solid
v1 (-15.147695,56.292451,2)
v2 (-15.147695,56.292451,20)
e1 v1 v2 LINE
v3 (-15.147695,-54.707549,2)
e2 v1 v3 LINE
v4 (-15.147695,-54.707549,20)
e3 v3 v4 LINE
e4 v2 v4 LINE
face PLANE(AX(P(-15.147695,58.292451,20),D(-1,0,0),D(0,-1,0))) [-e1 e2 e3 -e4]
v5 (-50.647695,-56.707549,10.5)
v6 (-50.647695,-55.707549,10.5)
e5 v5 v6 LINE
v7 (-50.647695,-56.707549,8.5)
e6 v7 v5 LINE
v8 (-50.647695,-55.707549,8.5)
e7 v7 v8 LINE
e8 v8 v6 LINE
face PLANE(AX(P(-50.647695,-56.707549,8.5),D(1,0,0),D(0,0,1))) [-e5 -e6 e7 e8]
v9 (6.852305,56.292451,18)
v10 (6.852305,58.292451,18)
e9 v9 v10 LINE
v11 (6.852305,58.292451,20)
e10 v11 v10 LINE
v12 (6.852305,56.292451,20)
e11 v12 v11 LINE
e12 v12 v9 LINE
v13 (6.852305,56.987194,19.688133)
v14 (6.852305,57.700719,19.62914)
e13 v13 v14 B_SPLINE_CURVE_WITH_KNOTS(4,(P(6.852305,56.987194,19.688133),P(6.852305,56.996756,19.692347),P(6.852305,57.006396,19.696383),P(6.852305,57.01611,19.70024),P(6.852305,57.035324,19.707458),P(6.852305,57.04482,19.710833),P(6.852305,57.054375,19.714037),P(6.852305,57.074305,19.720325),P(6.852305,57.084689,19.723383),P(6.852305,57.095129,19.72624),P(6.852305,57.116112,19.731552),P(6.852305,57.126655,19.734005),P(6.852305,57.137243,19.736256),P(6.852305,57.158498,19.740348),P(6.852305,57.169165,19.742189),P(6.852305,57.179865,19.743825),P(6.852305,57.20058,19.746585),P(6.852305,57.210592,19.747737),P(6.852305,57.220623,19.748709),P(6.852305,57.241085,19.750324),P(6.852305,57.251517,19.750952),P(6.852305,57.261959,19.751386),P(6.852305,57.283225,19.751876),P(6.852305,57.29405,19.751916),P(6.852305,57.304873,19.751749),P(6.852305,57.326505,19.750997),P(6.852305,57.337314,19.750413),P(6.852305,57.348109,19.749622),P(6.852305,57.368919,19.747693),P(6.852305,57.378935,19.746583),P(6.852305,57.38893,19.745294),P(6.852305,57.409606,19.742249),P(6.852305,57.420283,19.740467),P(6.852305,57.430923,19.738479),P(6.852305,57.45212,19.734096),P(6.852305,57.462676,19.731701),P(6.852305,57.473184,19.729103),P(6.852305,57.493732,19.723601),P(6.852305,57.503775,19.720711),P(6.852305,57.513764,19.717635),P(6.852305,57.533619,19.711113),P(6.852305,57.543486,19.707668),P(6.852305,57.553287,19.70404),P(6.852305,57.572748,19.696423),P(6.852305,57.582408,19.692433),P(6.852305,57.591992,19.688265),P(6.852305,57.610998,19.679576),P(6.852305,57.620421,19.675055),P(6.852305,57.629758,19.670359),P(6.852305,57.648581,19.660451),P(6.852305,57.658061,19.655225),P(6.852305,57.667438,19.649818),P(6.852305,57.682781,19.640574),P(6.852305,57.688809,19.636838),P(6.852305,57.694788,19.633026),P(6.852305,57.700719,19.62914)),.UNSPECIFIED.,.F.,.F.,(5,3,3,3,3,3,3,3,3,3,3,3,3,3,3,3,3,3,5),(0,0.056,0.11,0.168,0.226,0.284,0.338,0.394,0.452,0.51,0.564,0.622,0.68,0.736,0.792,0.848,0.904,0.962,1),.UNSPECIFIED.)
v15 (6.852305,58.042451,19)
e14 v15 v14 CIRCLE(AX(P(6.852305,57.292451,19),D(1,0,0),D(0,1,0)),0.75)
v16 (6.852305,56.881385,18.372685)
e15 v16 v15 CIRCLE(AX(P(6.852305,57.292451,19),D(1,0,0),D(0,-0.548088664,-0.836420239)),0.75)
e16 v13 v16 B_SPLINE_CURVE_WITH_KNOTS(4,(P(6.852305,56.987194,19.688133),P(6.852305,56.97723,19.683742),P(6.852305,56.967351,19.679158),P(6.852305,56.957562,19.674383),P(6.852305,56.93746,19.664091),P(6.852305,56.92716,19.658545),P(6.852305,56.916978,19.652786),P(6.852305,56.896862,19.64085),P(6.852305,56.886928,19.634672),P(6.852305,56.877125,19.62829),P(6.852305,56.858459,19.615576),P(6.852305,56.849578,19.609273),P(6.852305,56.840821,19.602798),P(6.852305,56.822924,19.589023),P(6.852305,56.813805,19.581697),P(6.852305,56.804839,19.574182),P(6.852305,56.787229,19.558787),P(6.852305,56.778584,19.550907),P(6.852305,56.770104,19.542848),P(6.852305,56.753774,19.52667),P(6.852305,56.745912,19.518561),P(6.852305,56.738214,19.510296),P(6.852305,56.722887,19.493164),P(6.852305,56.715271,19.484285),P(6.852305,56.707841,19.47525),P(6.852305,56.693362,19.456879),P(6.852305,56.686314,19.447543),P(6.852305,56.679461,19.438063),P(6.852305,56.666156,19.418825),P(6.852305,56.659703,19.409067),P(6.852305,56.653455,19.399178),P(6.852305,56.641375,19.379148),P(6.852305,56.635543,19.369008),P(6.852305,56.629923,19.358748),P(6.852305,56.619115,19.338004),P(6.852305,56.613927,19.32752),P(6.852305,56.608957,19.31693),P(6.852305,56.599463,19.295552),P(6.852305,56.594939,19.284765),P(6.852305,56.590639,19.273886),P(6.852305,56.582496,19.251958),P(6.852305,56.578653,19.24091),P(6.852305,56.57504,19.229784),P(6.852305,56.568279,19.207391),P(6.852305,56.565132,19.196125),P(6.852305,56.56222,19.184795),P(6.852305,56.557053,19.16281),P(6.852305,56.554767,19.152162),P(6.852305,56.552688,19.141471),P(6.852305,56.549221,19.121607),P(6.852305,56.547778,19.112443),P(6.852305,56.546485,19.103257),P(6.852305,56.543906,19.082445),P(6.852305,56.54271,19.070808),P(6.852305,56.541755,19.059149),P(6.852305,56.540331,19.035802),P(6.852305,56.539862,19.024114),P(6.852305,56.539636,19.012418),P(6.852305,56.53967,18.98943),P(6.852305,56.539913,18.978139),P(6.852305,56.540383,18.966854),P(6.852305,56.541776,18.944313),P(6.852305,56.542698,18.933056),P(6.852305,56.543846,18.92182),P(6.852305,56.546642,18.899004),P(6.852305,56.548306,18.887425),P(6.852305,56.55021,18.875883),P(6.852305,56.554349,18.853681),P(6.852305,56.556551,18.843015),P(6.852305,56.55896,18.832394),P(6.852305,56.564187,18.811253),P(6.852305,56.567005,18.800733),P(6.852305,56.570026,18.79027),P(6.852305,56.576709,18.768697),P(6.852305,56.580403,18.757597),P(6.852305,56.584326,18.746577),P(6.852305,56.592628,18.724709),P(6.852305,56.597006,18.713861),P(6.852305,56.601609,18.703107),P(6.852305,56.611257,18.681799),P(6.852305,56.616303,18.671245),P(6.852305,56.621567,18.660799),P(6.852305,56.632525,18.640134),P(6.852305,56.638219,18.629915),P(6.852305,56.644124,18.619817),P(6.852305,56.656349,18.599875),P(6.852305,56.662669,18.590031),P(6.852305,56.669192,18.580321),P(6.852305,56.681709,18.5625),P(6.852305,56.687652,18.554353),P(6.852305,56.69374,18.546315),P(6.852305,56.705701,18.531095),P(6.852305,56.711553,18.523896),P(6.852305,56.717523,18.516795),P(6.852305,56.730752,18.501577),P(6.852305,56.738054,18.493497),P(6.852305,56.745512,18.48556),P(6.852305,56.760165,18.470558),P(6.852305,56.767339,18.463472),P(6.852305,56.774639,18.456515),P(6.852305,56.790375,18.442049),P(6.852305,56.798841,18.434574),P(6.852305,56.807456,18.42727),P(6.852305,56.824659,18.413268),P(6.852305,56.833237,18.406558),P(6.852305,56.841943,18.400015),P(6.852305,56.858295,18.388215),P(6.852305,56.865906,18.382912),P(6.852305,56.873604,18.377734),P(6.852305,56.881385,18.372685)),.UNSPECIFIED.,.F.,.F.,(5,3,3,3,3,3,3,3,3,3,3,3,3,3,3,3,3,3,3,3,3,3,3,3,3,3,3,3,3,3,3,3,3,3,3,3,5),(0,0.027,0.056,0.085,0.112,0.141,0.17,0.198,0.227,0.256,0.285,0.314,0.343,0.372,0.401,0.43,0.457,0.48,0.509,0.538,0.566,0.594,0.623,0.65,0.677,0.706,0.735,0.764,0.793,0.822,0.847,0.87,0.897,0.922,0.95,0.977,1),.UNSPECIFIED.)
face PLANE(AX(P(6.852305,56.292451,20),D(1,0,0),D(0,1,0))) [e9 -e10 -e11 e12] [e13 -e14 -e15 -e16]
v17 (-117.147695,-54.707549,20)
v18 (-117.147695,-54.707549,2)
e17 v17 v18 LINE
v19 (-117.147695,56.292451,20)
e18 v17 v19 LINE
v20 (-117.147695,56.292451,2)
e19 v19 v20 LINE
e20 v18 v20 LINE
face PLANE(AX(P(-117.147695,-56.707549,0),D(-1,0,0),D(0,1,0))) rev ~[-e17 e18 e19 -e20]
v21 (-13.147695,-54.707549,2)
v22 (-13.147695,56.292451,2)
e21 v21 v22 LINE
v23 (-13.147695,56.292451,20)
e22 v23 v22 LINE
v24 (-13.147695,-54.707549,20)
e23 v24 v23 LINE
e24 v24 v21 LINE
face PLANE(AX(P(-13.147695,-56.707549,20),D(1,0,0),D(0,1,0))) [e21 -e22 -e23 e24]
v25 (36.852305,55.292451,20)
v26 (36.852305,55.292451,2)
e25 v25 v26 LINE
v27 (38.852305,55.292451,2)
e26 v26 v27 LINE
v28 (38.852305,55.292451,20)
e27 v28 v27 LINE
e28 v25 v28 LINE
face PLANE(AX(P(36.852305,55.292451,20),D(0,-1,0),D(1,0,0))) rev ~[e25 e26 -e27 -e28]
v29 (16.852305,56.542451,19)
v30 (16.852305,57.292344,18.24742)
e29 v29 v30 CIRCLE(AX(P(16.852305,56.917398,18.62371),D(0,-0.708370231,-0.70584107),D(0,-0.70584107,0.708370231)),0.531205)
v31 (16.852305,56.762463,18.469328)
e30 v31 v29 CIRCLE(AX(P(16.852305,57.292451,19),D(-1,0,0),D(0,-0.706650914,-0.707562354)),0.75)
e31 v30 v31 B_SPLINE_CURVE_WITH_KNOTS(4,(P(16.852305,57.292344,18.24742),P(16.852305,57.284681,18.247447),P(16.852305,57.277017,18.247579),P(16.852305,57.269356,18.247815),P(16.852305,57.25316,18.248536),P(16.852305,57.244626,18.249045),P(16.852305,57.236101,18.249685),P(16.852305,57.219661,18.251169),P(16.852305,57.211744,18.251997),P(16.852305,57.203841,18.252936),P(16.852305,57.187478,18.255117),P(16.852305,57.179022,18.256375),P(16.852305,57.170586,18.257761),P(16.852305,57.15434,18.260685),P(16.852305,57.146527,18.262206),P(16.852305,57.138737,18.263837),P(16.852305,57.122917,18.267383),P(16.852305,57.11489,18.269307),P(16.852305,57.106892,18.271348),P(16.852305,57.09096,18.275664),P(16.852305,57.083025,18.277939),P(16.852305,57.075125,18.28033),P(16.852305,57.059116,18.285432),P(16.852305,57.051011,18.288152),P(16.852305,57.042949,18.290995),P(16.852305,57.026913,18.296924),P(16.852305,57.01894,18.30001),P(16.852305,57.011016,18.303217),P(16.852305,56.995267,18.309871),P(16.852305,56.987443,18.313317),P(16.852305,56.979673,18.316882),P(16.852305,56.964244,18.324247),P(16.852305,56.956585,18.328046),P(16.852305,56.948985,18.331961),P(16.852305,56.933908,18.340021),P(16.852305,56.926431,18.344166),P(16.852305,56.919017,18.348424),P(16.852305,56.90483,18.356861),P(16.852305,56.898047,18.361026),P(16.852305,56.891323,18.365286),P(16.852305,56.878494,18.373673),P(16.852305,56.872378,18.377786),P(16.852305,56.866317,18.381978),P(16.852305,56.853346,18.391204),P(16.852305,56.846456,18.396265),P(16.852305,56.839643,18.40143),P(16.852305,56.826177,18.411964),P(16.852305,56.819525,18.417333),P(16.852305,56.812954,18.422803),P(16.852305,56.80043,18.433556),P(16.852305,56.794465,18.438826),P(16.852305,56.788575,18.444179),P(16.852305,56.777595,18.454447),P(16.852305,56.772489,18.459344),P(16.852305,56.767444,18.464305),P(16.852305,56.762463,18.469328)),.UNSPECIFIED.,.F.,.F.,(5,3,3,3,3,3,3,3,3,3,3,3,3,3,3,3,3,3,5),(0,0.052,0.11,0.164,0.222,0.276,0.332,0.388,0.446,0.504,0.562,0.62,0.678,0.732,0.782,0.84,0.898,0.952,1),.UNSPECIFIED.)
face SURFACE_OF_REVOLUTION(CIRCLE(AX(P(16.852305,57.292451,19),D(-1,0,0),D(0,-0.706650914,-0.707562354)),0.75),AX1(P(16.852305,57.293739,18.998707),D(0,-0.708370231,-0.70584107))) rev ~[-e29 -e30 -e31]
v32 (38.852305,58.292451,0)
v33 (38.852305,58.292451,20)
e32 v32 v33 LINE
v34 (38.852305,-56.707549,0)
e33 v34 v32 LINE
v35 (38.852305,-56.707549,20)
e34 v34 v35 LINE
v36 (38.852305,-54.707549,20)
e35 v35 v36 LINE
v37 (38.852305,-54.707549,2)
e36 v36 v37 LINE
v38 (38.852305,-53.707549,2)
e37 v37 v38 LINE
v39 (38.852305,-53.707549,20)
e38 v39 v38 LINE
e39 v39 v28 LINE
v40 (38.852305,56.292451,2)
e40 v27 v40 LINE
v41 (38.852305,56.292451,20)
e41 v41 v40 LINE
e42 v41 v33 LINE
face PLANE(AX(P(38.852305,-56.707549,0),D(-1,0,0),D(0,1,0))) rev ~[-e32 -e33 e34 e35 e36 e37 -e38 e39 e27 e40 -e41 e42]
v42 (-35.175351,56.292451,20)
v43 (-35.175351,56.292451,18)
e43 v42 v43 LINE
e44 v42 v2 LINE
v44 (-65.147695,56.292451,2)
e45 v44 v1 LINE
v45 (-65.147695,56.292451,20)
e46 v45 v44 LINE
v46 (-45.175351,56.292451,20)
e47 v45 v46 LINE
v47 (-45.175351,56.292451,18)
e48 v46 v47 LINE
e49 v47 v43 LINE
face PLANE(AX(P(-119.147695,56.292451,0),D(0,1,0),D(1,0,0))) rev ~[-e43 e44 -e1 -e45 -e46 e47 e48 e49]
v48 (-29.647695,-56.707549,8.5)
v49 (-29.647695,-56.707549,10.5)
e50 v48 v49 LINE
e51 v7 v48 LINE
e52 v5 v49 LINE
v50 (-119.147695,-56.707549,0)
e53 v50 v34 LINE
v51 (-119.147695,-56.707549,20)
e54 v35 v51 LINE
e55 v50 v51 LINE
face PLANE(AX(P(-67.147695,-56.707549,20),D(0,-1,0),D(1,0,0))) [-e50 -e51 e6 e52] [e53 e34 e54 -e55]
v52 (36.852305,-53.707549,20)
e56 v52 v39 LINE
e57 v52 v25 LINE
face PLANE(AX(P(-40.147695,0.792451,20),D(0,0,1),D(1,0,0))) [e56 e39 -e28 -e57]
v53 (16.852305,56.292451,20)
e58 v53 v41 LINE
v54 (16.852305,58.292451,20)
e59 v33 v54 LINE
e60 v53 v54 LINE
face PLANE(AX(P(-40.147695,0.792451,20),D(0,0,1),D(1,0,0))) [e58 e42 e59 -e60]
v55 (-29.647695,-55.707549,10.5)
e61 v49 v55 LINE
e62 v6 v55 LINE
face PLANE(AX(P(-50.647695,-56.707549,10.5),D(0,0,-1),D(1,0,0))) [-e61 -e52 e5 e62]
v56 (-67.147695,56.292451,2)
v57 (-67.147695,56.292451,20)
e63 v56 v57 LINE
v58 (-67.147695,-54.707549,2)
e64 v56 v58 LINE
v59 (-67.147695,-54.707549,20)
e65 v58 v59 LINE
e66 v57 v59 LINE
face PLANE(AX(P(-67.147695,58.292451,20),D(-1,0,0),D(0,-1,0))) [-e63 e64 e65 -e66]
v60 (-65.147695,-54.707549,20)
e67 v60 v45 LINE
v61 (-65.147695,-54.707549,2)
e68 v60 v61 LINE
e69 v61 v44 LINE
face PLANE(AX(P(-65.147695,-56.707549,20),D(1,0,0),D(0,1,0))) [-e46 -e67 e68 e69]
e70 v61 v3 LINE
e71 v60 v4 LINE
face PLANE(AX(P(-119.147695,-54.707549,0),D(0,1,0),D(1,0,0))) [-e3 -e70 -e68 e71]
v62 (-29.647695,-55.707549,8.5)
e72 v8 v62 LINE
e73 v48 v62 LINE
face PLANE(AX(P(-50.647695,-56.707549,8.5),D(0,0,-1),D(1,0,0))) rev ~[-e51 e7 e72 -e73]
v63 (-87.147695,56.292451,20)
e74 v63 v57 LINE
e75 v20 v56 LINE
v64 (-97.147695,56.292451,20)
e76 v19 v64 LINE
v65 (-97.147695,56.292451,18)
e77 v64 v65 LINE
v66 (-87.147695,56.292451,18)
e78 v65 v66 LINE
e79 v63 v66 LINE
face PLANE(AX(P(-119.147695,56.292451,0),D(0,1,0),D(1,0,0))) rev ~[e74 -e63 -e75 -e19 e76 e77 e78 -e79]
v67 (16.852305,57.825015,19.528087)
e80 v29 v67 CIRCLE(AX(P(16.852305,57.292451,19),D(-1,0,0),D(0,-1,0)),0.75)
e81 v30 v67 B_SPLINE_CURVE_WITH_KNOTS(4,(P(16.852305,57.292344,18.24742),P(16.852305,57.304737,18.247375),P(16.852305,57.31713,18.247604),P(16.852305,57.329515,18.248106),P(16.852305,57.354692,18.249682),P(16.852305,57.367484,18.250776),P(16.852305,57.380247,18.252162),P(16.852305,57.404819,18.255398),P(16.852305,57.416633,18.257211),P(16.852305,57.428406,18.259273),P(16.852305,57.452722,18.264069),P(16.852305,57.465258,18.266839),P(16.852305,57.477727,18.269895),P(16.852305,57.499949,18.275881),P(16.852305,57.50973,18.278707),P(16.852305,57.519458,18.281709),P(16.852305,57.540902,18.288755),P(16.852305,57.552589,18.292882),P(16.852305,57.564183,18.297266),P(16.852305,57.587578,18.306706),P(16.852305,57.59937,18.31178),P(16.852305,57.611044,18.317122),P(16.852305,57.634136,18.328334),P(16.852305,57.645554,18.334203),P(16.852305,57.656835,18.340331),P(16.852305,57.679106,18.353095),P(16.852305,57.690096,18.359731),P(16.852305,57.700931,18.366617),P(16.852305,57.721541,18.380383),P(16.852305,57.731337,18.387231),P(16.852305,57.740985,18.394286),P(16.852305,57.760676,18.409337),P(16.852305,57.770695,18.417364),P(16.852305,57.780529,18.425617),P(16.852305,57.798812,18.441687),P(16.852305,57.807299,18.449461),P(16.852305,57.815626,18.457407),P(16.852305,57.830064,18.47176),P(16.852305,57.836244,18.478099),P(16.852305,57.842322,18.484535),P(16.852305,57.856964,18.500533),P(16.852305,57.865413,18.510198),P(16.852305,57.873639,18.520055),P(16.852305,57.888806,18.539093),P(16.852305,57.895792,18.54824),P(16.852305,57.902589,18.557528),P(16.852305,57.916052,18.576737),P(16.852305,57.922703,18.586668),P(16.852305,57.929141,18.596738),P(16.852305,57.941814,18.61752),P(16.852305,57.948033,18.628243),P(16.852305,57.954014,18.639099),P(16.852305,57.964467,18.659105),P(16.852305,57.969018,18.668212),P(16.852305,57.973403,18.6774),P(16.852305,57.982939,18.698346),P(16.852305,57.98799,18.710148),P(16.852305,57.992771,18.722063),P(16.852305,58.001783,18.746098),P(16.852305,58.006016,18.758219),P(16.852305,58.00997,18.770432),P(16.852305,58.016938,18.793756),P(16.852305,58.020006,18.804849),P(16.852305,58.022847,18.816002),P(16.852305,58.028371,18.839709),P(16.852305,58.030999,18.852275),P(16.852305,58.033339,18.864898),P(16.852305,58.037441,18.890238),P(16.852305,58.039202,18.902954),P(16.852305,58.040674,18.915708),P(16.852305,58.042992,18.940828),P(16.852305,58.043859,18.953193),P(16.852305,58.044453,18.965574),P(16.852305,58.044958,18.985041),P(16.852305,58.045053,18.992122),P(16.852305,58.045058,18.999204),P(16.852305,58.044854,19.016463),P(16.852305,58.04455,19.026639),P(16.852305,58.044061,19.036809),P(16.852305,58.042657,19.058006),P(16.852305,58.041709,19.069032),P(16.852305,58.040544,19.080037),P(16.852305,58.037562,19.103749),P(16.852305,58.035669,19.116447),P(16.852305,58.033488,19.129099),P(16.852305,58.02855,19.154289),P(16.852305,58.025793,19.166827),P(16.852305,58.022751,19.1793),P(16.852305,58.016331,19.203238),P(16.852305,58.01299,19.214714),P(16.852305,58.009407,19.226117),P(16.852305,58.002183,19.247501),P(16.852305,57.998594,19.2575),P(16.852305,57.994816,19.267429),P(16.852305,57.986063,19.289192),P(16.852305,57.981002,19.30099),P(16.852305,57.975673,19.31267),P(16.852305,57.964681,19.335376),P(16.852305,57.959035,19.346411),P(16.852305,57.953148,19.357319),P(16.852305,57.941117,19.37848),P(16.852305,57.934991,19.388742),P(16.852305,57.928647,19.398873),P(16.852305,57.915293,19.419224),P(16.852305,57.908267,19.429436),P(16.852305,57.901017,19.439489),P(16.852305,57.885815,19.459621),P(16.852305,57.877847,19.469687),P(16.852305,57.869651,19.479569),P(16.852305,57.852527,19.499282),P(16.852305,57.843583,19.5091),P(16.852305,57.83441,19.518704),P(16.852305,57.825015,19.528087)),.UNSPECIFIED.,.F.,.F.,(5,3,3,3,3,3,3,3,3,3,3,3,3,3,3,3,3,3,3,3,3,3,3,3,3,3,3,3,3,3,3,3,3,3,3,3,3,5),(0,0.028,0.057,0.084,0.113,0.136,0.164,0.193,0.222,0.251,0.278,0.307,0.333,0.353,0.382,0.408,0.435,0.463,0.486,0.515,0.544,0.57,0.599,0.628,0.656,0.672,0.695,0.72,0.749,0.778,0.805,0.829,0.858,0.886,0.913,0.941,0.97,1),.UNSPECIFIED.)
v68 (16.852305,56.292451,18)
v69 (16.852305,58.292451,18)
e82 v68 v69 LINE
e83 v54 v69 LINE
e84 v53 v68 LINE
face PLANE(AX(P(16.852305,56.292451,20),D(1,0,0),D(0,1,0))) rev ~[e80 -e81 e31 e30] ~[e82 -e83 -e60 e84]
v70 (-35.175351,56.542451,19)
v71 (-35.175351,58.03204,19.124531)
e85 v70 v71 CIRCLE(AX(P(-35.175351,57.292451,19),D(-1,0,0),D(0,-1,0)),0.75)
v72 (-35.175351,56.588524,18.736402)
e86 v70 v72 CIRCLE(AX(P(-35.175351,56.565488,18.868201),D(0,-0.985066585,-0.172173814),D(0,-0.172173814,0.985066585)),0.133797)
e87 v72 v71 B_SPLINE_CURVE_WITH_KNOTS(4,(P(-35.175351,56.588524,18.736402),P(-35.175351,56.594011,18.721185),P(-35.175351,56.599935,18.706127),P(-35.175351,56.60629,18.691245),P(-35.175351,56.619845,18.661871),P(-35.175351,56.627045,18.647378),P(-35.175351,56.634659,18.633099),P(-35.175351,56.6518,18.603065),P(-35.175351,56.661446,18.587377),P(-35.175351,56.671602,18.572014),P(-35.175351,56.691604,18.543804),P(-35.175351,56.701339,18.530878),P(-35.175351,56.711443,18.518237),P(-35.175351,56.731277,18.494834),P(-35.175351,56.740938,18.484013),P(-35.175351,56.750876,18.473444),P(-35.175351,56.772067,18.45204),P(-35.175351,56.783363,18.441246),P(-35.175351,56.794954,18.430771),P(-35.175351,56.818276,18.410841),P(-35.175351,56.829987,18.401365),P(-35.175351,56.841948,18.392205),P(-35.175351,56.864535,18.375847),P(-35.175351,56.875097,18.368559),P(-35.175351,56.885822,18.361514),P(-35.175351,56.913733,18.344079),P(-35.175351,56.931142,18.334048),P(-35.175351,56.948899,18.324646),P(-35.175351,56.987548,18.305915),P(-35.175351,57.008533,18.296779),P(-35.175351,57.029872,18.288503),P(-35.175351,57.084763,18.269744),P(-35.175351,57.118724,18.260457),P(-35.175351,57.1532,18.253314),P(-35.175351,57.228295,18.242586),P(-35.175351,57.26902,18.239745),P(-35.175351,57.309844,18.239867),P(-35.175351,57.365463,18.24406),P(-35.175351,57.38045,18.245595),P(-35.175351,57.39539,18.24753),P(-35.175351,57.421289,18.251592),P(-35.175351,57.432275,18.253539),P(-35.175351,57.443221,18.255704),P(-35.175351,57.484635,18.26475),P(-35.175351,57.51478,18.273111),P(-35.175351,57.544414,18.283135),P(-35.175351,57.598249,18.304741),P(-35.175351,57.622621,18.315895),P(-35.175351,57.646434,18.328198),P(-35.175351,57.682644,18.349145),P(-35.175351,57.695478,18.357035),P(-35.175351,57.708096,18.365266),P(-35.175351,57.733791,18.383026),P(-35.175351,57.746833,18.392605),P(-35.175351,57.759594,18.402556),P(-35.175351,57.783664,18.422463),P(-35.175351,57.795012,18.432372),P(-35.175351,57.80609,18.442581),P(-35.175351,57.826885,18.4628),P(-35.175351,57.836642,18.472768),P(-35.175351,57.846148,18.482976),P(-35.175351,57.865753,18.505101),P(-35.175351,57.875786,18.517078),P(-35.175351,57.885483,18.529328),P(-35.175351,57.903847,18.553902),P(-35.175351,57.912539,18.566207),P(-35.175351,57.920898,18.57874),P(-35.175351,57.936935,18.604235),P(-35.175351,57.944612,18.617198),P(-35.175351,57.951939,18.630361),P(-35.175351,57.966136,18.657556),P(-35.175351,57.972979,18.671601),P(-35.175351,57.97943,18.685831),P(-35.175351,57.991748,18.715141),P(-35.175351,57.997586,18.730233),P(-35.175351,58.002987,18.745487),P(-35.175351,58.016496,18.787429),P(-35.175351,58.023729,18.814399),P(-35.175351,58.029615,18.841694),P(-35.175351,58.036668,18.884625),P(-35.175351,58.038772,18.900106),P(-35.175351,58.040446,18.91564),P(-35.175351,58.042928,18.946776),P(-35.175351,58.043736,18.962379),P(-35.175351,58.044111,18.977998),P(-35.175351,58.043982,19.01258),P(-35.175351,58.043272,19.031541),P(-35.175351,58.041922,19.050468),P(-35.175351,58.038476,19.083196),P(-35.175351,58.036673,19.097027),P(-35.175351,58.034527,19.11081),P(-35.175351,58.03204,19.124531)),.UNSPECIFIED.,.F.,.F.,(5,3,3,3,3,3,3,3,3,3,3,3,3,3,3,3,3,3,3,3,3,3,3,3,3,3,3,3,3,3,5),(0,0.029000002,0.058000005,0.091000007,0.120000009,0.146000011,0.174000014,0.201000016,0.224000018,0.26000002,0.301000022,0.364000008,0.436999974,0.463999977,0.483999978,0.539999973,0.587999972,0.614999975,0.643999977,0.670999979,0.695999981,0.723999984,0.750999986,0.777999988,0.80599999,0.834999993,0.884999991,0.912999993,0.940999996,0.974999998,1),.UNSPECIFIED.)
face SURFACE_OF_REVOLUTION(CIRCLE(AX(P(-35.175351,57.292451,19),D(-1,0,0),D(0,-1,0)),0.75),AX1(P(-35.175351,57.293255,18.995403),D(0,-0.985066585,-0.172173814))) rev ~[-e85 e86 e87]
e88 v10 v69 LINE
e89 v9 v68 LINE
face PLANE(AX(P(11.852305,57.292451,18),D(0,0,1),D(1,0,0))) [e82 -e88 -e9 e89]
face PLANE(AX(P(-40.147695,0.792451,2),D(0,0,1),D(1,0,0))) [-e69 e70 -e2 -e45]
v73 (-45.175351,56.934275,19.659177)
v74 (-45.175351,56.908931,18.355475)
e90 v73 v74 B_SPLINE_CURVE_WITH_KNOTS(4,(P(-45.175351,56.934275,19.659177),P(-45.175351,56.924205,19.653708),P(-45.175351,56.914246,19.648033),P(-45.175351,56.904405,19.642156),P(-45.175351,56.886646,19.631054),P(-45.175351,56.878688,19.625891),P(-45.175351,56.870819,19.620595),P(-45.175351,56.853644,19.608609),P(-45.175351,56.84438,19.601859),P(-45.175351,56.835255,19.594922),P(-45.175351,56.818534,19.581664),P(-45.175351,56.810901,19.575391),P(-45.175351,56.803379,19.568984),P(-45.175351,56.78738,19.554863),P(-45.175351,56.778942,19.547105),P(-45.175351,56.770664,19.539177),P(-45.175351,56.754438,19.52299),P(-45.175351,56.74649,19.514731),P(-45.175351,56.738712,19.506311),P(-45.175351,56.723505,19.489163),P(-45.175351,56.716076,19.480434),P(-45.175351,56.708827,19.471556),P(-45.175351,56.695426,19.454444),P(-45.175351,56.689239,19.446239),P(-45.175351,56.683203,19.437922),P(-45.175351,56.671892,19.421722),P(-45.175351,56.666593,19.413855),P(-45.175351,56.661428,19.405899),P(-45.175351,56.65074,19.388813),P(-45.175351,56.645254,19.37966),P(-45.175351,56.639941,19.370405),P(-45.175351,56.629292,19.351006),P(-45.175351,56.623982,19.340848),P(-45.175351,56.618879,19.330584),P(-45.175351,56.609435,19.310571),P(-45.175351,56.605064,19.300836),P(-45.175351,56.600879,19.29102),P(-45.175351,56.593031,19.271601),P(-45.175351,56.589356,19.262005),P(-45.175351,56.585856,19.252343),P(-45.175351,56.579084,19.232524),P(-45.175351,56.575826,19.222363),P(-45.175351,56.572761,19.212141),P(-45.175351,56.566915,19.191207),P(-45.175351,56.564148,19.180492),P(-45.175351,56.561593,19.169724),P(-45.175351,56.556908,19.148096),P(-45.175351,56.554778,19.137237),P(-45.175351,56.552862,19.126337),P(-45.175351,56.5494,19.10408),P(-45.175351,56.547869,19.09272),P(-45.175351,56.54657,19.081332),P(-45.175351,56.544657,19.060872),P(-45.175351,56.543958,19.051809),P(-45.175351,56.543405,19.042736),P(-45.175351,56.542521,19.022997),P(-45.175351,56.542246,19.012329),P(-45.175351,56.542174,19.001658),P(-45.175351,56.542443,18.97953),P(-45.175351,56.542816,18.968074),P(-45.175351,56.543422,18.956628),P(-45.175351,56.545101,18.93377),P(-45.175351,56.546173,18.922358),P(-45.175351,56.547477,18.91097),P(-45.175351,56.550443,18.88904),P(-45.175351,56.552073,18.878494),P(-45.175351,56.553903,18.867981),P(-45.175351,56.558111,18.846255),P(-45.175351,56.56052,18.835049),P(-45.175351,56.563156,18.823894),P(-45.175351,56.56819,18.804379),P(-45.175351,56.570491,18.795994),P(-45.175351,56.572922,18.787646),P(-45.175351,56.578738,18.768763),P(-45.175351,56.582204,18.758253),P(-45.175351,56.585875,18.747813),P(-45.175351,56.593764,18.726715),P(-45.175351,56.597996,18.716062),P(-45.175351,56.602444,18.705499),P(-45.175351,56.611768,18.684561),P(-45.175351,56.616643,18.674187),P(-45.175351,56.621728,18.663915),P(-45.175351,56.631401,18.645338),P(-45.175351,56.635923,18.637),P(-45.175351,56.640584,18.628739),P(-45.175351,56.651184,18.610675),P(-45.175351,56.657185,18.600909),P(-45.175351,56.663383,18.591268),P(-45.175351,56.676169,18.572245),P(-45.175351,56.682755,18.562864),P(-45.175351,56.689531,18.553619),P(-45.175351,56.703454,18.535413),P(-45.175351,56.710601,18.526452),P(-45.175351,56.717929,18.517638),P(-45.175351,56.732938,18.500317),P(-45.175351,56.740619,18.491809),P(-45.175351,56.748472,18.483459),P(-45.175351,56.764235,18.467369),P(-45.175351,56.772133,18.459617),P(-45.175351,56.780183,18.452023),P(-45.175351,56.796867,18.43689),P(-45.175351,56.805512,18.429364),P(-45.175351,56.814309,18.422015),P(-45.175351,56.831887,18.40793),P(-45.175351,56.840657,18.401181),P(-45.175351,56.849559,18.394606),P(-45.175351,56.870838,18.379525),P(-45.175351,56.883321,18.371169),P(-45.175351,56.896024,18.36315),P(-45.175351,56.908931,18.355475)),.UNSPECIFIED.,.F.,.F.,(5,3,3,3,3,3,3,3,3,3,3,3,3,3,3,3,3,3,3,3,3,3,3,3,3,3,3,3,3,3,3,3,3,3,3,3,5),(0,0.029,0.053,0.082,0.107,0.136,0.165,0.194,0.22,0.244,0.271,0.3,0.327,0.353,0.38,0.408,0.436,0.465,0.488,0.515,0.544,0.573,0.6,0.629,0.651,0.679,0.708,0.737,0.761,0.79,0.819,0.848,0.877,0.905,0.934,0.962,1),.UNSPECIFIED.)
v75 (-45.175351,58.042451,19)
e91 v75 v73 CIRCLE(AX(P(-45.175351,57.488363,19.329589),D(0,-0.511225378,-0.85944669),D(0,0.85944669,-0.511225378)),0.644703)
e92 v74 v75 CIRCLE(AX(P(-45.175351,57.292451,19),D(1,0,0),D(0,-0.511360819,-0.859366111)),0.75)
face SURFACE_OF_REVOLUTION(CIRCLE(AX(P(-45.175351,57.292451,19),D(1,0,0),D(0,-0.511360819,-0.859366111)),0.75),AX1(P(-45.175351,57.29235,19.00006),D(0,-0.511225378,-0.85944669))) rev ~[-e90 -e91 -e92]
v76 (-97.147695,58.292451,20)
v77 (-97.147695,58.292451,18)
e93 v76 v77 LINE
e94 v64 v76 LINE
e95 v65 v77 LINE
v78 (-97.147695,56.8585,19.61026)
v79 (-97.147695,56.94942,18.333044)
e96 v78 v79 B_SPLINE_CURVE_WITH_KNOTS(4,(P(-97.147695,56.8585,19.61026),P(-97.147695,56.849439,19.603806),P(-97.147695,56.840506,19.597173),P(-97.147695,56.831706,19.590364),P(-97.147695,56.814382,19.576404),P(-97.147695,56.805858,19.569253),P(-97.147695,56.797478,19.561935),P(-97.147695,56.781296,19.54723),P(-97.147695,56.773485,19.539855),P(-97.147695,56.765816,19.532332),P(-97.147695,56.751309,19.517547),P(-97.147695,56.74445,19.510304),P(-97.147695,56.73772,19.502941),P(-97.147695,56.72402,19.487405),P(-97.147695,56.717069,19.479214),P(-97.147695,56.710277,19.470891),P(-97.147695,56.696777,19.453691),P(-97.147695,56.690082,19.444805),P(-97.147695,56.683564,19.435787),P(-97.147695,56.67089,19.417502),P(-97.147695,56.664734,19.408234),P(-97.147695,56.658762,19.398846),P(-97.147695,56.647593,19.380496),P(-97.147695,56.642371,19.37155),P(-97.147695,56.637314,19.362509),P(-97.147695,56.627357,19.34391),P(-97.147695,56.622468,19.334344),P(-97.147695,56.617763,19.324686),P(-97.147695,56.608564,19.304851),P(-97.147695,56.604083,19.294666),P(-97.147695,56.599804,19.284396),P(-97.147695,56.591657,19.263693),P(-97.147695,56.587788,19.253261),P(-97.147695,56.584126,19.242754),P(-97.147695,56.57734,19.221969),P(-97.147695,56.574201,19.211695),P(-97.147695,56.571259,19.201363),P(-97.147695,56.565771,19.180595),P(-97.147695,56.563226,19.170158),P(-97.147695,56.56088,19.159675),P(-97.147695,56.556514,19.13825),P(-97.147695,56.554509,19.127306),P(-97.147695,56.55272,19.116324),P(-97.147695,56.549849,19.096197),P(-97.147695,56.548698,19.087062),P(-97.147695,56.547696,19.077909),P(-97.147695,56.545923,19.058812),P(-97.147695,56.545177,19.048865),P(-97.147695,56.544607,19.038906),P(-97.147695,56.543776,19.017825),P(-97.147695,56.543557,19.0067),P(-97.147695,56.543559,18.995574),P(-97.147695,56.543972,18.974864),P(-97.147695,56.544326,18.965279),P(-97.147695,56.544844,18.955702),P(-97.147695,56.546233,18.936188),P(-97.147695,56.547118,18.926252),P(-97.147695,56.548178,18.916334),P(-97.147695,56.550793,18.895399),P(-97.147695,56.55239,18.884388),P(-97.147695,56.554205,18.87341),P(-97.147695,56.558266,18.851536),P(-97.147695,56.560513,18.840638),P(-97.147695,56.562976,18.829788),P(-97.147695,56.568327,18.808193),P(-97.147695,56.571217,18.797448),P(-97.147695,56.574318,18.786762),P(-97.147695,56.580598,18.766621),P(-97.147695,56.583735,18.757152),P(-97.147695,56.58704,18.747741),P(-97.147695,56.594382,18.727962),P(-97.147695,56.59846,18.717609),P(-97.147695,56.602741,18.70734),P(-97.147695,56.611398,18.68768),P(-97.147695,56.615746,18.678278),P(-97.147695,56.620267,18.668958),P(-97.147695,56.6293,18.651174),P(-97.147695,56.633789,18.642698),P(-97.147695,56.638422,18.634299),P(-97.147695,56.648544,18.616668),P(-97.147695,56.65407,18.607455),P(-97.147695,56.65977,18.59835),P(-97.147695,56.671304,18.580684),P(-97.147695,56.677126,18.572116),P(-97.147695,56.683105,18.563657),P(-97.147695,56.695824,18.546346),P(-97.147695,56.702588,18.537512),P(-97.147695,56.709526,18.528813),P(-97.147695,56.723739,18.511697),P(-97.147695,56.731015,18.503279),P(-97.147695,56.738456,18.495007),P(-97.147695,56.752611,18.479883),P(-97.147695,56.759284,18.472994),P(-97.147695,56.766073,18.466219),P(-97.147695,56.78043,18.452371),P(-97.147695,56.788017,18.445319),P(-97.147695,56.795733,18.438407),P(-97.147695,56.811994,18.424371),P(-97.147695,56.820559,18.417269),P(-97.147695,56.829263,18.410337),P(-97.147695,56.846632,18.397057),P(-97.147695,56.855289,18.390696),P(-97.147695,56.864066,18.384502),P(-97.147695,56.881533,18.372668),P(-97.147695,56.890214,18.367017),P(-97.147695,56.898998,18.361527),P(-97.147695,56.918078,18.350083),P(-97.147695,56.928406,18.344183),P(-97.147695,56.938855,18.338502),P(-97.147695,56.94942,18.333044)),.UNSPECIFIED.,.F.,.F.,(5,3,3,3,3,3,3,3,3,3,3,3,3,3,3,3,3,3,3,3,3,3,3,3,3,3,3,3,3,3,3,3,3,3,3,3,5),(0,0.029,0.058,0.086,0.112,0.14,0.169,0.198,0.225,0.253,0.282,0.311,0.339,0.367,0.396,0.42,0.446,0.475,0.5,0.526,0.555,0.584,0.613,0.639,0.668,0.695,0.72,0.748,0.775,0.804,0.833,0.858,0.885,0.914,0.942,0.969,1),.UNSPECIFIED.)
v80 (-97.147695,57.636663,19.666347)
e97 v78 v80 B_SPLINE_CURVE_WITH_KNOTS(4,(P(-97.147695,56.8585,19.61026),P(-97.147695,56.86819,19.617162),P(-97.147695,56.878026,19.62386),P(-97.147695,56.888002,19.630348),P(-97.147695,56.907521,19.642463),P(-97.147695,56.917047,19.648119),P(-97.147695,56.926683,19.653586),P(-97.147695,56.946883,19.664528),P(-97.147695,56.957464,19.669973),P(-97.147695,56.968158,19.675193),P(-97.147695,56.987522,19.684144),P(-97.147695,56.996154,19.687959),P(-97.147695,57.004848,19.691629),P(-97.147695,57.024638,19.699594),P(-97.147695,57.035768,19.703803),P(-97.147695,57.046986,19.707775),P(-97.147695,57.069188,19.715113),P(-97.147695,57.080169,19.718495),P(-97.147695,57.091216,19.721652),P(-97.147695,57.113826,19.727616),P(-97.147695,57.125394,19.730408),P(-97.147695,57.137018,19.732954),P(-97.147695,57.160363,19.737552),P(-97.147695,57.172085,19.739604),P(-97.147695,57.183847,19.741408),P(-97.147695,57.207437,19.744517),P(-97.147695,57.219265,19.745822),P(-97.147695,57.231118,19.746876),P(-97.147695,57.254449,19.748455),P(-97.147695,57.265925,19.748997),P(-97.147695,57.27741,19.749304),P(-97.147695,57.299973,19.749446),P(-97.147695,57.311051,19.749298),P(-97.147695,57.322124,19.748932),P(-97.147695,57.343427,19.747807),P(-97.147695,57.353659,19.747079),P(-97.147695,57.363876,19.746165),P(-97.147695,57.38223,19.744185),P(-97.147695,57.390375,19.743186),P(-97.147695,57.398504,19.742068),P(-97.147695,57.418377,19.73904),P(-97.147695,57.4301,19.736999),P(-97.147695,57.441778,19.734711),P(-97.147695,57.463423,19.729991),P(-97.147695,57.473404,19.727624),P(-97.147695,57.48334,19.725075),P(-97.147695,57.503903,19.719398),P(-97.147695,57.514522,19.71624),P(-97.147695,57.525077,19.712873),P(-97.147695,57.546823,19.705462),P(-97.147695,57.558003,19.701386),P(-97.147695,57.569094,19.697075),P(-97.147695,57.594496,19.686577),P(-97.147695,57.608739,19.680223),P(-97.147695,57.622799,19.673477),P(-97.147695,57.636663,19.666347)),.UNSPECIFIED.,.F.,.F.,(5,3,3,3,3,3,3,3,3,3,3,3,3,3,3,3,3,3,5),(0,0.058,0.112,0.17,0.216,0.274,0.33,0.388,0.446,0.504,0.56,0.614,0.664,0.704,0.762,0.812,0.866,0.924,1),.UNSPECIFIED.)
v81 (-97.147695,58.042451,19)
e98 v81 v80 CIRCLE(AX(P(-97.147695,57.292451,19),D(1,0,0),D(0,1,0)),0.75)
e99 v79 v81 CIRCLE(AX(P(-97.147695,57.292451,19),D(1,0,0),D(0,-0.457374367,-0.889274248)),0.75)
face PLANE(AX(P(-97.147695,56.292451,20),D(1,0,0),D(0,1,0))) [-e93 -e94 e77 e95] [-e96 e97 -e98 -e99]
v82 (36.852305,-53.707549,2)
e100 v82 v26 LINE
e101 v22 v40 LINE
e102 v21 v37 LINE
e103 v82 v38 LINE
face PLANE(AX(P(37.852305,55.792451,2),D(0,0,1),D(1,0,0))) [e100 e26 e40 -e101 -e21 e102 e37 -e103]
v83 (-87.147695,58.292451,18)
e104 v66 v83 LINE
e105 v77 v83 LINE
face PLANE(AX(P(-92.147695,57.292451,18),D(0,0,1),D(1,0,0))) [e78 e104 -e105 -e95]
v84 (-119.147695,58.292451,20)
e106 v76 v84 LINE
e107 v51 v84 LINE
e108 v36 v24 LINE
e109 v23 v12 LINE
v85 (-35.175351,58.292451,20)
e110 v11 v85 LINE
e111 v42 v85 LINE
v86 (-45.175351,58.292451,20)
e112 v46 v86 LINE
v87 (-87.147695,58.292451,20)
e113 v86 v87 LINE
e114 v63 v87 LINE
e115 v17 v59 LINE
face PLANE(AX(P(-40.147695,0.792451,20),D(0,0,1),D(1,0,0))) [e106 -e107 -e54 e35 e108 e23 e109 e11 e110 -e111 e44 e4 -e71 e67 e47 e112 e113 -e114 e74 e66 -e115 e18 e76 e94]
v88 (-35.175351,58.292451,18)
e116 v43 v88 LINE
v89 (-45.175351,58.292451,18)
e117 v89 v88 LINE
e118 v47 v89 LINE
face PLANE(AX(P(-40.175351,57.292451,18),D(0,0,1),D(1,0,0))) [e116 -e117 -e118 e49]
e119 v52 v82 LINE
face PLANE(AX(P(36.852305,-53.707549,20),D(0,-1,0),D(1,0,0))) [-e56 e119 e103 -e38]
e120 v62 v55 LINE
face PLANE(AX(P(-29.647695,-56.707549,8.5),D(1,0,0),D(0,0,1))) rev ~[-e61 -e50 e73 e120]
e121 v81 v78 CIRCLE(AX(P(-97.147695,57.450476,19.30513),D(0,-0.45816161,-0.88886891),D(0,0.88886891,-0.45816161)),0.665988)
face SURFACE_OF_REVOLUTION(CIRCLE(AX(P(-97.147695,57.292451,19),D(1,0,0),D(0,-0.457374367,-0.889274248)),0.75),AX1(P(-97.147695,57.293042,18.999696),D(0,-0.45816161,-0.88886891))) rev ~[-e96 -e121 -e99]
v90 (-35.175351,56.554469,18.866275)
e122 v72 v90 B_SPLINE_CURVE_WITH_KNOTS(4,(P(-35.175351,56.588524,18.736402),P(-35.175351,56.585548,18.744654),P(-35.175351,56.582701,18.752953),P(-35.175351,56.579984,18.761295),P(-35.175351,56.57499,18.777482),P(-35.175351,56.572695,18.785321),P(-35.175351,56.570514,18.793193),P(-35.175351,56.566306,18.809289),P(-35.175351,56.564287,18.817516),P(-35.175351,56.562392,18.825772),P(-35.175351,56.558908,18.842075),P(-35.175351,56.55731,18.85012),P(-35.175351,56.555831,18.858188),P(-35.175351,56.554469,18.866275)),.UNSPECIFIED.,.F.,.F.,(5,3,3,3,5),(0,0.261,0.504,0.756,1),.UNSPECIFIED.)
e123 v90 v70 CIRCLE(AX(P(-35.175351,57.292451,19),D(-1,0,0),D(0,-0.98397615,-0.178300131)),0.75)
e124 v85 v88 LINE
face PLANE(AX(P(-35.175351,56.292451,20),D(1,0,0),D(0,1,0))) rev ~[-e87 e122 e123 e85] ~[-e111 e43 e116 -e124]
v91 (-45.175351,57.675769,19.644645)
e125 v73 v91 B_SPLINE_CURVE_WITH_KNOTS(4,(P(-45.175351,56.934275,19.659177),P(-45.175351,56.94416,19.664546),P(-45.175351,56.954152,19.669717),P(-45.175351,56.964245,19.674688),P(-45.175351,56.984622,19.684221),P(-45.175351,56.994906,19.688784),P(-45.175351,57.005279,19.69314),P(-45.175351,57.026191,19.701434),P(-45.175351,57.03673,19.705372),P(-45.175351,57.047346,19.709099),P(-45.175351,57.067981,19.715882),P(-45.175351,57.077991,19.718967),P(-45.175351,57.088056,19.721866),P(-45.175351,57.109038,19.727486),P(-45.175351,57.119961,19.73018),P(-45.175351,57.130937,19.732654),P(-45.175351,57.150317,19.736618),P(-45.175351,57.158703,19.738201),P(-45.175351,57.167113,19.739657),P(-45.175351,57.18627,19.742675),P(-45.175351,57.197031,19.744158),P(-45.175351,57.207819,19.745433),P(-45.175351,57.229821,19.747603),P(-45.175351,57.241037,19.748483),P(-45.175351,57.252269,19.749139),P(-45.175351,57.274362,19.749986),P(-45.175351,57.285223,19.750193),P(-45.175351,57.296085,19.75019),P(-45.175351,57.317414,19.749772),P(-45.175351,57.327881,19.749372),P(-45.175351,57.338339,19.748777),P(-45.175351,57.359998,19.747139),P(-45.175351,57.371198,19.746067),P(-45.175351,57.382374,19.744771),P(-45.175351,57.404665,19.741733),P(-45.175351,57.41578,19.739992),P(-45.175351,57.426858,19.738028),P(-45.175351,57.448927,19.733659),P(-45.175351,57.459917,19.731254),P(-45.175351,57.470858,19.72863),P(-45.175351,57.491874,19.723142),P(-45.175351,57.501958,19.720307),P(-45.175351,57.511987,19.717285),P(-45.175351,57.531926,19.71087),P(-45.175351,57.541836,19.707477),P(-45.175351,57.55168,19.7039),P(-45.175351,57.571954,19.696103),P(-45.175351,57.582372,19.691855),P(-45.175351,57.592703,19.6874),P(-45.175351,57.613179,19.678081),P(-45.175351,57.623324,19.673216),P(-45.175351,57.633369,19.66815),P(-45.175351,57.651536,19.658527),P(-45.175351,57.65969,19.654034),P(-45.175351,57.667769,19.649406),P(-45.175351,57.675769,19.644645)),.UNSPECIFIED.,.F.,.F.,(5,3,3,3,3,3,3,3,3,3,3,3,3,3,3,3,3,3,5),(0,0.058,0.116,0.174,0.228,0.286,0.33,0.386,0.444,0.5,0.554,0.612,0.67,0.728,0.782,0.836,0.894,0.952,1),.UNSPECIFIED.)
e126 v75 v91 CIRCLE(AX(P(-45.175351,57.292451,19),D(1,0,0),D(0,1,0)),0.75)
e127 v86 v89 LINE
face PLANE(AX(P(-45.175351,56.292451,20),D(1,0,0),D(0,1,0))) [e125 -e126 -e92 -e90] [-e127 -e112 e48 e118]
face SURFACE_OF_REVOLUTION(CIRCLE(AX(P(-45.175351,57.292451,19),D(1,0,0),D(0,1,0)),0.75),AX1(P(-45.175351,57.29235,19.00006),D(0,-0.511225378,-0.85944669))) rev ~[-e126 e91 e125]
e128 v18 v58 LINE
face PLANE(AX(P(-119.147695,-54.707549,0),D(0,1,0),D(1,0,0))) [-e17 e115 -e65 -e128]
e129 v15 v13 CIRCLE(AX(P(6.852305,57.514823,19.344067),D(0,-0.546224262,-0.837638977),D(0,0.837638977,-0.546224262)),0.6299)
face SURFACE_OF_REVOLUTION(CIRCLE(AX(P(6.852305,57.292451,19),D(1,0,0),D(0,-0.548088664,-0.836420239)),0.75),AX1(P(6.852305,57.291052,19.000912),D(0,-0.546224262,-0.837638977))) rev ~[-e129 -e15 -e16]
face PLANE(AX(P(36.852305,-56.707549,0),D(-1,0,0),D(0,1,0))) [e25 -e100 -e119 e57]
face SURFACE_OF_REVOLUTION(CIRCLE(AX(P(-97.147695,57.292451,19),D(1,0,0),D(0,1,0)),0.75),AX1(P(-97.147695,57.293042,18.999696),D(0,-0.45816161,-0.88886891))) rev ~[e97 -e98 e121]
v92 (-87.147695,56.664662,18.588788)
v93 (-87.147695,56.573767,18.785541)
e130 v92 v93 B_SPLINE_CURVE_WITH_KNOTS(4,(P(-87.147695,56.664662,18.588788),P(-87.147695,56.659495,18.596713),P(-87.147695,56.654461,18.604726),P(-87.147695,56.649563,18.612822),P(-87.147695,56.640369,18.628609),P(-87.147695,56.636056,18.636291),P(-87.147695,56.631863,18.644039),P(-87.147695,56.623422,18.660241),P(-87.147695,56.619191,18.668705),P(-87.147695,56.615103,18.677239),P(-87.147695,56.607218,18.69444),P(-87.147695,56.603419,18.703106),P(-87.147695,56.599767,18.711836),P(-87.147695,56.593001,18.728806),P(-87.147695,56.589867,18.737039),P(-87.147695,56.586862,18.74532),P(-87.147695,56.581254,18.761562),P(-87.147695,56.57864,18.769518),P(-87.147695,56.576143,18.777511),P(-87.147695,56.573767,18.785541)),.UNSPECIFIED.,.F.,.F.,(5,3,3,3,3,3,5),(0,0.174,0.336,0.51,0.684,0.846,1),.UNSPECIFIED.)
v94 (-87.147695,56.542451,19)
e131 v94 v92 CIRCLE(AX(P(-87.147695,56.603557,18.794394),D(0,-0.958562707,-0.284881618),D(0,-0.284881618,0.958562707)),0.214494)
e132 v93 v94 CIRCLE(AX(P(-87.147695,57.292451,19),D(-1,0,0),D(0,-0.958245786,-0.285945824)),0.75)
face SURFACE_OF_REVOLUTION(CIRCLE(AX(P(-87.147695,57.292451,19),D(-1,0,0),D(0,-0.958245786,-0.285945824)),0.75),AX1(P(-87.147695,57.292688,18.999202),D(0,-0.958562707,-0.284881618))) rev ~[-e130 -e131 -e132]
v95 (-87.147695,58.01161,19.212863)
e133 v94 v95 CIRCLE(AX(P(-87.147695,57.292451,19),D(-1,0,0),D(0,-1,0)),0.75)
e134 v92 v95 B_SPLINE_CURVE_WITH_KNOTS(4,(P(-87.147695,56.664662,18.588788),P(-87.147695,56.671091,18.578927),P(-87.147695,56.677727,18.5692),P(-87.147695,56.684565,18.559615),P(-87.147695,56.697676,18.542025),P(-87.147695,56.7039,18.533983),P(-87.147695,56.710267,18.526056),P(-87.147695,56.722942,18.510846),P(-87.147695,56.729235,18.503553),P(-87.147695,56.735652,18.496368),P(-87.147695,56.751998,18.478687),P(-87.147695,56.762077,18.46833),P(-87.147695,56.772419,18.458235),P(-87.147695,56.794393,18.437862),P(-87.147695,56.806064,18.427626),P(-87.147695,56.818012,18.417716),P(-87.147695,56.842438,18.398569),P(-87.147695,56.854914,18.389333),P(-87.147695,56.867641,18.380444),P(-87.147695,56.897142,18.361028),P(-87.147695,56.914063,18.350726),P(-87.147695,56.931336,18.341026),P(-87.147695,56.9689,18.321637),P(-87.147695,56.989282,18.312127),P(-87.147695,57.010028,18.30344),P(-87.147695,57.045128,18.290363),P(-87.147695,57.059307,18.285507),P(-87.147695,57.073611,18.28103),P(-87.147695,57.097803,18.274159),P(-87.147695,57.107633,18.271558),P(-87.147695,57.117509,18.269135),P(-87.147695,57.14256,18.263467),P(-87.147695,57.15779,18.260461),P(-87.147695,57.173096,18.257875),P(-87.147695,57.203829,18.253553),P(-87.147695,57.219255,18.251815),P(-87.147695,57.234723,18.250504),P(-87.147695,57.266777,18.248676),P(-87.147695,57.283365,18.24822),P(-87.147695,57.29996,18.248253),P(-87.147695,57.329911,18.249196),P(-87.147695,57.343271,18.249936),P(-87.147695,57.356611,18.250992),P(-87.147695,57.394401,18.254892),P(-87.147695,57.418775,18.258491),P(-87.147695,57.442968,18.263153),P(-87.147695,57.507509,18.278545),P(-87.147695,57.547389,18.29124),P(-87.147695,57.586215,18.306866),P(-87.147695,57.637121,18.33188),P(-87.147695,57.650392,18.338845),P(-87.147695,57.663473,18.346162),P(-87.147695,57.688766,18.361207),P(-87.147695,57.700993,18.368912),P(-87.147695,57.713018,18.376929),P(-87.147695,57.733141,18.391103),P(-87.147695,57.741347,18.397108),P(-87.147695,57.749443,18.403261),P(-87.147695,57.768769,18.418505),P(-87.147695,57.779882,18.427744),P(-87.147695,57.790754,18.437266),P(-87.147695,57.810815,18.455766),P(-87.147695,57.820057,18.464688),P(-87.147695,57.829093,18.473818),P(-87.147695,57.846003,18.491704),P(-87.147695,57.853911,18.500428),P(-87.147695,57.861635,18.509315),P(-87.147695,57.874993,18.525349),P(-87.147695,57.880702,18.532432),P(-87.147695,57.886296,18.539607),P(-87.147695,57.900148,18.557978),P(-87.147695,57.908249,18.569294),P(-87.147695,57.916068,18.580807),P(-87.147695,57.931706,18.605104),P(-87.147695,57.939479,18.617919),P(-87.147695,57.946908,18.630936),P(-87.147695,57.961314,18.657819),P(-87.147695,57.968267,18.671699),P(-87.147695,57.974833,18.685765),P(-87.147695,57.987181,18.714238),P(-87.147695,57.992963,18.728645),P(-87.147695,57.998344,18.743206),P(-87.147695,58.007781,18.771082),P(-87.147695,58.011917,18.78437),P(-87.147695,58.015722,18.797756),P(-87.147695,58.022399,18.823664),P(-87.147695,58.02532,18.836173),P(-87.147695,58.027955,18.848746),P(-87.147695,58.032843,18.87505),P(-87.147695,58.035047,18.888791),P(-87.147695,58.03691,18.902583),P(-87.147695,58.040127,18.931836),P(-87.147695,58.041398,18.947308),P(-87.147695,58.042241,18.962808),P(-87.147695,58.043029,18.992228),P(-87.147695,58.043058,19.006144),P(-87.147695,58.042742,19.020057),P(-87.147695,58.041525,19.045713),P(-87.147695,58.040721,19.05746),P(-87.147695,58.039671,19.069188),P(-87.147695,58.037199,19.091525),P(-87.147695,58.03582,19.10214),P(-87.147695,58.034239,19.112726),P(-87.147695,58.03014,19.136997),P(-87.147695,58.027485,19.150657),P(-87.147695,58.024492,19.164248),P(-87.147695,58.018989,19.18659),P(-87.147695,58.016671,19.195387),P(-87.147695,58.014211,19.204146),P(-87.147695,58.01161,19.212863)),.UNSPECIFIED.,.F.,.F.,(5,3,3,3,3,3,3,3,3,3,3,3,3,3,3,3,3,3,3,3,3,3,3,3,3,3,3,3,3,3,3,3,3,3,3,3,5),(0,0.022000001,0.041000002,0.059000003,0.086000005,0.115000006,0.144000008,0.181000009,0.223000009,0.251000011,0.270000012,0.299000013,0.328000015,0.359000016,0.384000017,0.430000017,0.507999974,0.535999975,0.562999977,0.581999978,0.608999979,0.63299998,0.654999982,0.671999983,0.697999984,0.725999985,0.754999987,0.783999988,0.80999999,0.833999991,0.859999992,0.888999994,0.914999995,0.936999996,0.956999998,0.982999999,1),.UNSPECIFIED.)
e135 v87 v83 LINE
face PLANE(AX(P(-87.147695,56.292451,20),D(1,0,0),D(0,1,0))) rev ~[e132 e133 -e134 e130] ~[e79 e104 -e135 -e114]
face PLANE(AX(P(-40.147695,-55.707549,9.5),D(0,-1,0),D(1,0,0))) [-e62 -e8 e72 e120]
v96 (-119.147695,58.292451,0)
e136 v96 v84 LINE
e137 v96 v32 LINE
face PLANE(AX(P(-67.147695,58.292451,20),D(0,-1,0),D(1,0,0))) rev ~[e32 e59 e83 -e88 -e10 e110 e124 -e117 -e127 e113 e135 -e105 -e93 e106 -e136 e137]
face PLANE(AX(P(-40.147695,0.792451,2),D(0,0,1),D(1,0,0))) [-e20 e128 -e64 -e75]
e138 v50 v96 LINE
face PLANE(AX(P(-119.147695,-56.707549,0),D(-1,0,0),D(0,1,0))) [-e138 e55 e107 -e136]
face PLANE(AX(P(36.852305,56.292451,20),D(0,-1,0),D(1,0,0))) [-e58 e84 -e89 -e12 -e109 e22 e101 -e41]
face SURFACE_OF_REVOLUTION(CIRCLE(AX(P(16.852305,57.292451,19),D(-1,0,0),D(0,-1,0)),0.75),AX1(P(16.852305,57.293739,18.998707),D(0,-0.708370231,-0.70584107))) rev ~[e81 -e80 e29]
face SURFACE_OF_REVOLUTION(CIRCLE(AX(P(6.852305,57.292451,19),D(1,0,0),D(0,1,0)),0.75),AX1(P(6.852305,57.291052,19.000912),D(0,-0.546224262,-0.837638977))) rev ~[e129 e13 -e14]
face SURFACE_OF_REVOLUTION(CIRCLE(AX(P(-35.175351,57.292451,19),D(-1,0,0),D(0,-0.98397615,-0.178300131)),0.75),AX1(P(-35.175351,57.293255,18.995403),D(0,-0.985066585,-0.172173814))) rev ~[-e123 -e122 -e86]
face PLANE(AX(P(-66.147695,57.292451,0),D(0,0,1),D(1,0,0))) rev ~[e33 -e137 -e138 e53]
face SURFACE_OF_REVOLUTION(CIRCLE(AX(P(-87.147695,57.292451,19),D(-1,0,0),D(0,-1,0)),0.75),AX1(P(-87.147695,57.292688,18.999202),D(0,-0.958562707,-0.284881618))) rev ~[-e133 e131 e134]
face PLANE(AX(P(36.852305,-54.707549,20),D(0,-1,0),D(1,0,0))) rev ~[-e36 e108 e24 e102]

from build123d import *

# Parameters (mm, degrees)
F0_W      = 158
F0_H      = 115
F1_DEPTH  = 20
F2_T      = -2
F3_W      = 2
F3_H      = 2
F3_H_2    = 111
F4_DEPTH  = 20
F5_W      = 2
F5_H      = 1
F6_DEPTH  = 18
F7_W      = 10
F7_H      = 2
F8_DEPTH  = 2
F21_W     = 21
F21_H     = 2
F22_DEPTH = 1


with BuildPart() as f1:
    # F0 (on Top) → F1 (new body)
    with BuildSketch(Plane.XY):
        with Locations((-40.1476950792, 0.7924512029)):
            Rectangle(F0_W, F0_H)
    extrude(amount=F1_DEPTH)

    # F2
    f2_openings = [f1.faces().sort_by_distance(p)[0] for p in [
        (-40.147695, 0.792451, 20),
    ]]
    offset(amount=F2_T, openings=f2_openings)

    # F3 (on face) → F4 (join)
    with BuildSketch(Plane.XY.offset(20)):
        with Locations((-66.1476950792, 57.2924512029)):
            Rectangle(F3_W, F3_H)
        with Locations((-66.1476950792, -55.7075487971)):
            Rectangle(F3_W, F3_H)
        with Locations((-14.1476950792, 57.2924512029)):
            Rectangle(F3_W, F3_H)
        with Locations((-14.1476950792, -55.7075487971)):
            Rectangle(F3_W, F3_H)
        with Locations((-14.1476950792, 0.7924512029)):
            Rectangle(F3_W, F3_H_2)
        with Locations((-66.1476950792, 0.7924512029)):
            Rectangle(F3_W, F3_H_2)
    extrude(amount=-F4_DEPTH)

    # F5 (on face) → F6 (cut)
    with BuildSketch(Plane.XY.offset(20)):
        with Locations((37.8523049208, 55.7924512029)):
            Rectangle(F5_W, F5_H)
        with Locations((37.8523049208, -54.2075487971)):
            Rectangle(F5_W, F5_H)
    extrude(amount=-F6_DEPTH, mode=Mode.SUBTRACT)

    # F7 (on face) → F8 (cut)
    with BuildSketch(Plane.XY.offset(20)):
        with Locations((-92.1476950792, 57.2924512029)):
            Rectangle(F7_W, F7_H)
        with Locations((11.8523049208, 57.2924512029)):
            Rectangle(F7_W, F7_H)
        with Locations((-40.1753512025, 57.2924512029)):
            Rectangle(F7_W, F7_H)
    extrude(amount=-F8_DEPTH, mode=Mode.SUBTRACT)

    # F9 (on face) → F10 (revolve)
    with BuildSketch(Plane.YZ.offset(-97.1476950792)):
        with BuildLine():
            ThreePointArc((56.9494204277, 18.3330443139), (57.6831089294, 18.3597761792), (58.0424512029, 19))
            ThreePointArc((58.0424512029, 19), (57.9330206868, 19.3900906769), (57.6366625729, 19.6663471563))
            Line((57.6366625729, 19.6663471563), (56.9494204277, 18.3330443139))
        make_face()
    revolve(axis=Axis((-97.1476950792, 57.2930415003, 18.9996957351), (0, -0.4581616098, -0.8888689101)))

    # F11 (on face) → F12 (revolve)
    with BuildSketch(Plane(origin=(-87.1476950792, 0, 0), x_dir=(0, -1, 0), z_dir=(-1, 0, 0))):
        with BuildLine():
            ThreePointArc((-56.5737668636, 18.7855406321), (-56.5503214115, 18.8916331565), (-56.5424512029, 19))
            ThreePointArc((-56.5424512029, 19), (-57.1849084822, 19.7422496637), (-58.0116100381, 19.2128627954))
            Line((-58.0116100381, 19.2128627954), (-56.5737668636, 18.7855406321))
        make_face()
    revolve(axis=Axis((-87.1476950792, 57.2926884509, 18.9992017138), (0, -0.9585627073, -0.2848816178)))

    # F13 (on face) → F14 (revolve)
    with BuildSketch(Plane(origin=(-35.1753512025, 0, 0), x_dir=(0, -1, 0), z_dir=(-1, 0, 0))):
        with BuildLine():
            ThreePointArc((-56.5544690905, 18.8662749021), (-56.5454617169, 18.9328679819), (-56.5424512029, 19))
            ThreePointArc((-56.5424512029, 19), (-57.2299686819, 19.7473927579), (-58.0320403617, 19.1245306231))
            Line((-58.0320403617, 19.1245306231), (-56.5544690905, 18.8662749021))
        make_face()
    revolve(axis=Axis((-35.1753512025, 57.2932547261, 18.9954027626), (0, -0.9850665855, -0.172173814)))

    # F15 (on face) → F16 (revolve)
    with BuildSketch(Plane.YZ.offset(-45.1753512025)):
        with BuildLine():
            ThreePointArc((56.9089305888, 18.3554754166), (57.6631664167, 18.3480258976), (58.0424512029, 19))
            ThreePointArc((58.0424512029, 19), (57.9443668734, 19.3708179586), (57.675768647, 19.6446454351))
            Line((57.675768647, 19.6446454351), (56.9089305888, 18.3554754166))
        make_face()
    revolve(axis=Axis((-45.1753512025, 57.2923496179, 19.0000604259), (0, -0.5112253785, -0.8594466897)))

    # F17 (on face) → F18 (revolve)
    with BuildSketch(Plane.YZ.offset(6.8523049208)):
        with BuildLine():
            ThreePointArc((56.8813847049, 18.3726848206), (57.648962161, 18.3401515805), (58.0424512029, 19))
            ThreePointArc((58.0424512029, 19), (57.9515038931, 19.35797982), (57.7007190655, 19.6291401691))
            Line((57.7007190655, 19.6291401691), (56.8813847049, 18.3726848206))
        make_face()
    revolve(axis=Axis((6.8523049208, 57.2910518852, 19.0009124949), (0, -0.546224262, -0.8376389769)))

    # F19 (on face) → F20 (revolve)
    with BuildSketch(Plane(origin=(16.8523049208, 0, 0), x_dir=(0, -1, 0), z_dir=(-1, 0, 0))):
        with BuildLine():
            ThreePointArc((-56.7624630169, 18.4693282345), (-56.5996340771, 18.7127641557), (-56.5424512029, 19))
            ThreePointArc((-56.5424512029, 19), (-57.0069017432, 19.6935138831), (-57.8250152191, 19.5280867056))
            Line((-57.8250152191, 19.5280867056), (-56.7624630169, 18.4693282345))
        make_face()
    revolve(axis=Axis((16.8523049208, 57.293739118, 18.99870747), (0, -0.7083702312, -0.7058410696)))

    # F21 (on face) → F22 (cut)
    with BuildSketch(Plane.XZ.offset(56.7075487971)):
        with Locations((-40.1476950792, 9.5)):
            Rectangle(F21_W, F21_H)
    extrude(amount=-F22_DEPTH, mode=Mode.SUBTRACT)


solid = f1.part
